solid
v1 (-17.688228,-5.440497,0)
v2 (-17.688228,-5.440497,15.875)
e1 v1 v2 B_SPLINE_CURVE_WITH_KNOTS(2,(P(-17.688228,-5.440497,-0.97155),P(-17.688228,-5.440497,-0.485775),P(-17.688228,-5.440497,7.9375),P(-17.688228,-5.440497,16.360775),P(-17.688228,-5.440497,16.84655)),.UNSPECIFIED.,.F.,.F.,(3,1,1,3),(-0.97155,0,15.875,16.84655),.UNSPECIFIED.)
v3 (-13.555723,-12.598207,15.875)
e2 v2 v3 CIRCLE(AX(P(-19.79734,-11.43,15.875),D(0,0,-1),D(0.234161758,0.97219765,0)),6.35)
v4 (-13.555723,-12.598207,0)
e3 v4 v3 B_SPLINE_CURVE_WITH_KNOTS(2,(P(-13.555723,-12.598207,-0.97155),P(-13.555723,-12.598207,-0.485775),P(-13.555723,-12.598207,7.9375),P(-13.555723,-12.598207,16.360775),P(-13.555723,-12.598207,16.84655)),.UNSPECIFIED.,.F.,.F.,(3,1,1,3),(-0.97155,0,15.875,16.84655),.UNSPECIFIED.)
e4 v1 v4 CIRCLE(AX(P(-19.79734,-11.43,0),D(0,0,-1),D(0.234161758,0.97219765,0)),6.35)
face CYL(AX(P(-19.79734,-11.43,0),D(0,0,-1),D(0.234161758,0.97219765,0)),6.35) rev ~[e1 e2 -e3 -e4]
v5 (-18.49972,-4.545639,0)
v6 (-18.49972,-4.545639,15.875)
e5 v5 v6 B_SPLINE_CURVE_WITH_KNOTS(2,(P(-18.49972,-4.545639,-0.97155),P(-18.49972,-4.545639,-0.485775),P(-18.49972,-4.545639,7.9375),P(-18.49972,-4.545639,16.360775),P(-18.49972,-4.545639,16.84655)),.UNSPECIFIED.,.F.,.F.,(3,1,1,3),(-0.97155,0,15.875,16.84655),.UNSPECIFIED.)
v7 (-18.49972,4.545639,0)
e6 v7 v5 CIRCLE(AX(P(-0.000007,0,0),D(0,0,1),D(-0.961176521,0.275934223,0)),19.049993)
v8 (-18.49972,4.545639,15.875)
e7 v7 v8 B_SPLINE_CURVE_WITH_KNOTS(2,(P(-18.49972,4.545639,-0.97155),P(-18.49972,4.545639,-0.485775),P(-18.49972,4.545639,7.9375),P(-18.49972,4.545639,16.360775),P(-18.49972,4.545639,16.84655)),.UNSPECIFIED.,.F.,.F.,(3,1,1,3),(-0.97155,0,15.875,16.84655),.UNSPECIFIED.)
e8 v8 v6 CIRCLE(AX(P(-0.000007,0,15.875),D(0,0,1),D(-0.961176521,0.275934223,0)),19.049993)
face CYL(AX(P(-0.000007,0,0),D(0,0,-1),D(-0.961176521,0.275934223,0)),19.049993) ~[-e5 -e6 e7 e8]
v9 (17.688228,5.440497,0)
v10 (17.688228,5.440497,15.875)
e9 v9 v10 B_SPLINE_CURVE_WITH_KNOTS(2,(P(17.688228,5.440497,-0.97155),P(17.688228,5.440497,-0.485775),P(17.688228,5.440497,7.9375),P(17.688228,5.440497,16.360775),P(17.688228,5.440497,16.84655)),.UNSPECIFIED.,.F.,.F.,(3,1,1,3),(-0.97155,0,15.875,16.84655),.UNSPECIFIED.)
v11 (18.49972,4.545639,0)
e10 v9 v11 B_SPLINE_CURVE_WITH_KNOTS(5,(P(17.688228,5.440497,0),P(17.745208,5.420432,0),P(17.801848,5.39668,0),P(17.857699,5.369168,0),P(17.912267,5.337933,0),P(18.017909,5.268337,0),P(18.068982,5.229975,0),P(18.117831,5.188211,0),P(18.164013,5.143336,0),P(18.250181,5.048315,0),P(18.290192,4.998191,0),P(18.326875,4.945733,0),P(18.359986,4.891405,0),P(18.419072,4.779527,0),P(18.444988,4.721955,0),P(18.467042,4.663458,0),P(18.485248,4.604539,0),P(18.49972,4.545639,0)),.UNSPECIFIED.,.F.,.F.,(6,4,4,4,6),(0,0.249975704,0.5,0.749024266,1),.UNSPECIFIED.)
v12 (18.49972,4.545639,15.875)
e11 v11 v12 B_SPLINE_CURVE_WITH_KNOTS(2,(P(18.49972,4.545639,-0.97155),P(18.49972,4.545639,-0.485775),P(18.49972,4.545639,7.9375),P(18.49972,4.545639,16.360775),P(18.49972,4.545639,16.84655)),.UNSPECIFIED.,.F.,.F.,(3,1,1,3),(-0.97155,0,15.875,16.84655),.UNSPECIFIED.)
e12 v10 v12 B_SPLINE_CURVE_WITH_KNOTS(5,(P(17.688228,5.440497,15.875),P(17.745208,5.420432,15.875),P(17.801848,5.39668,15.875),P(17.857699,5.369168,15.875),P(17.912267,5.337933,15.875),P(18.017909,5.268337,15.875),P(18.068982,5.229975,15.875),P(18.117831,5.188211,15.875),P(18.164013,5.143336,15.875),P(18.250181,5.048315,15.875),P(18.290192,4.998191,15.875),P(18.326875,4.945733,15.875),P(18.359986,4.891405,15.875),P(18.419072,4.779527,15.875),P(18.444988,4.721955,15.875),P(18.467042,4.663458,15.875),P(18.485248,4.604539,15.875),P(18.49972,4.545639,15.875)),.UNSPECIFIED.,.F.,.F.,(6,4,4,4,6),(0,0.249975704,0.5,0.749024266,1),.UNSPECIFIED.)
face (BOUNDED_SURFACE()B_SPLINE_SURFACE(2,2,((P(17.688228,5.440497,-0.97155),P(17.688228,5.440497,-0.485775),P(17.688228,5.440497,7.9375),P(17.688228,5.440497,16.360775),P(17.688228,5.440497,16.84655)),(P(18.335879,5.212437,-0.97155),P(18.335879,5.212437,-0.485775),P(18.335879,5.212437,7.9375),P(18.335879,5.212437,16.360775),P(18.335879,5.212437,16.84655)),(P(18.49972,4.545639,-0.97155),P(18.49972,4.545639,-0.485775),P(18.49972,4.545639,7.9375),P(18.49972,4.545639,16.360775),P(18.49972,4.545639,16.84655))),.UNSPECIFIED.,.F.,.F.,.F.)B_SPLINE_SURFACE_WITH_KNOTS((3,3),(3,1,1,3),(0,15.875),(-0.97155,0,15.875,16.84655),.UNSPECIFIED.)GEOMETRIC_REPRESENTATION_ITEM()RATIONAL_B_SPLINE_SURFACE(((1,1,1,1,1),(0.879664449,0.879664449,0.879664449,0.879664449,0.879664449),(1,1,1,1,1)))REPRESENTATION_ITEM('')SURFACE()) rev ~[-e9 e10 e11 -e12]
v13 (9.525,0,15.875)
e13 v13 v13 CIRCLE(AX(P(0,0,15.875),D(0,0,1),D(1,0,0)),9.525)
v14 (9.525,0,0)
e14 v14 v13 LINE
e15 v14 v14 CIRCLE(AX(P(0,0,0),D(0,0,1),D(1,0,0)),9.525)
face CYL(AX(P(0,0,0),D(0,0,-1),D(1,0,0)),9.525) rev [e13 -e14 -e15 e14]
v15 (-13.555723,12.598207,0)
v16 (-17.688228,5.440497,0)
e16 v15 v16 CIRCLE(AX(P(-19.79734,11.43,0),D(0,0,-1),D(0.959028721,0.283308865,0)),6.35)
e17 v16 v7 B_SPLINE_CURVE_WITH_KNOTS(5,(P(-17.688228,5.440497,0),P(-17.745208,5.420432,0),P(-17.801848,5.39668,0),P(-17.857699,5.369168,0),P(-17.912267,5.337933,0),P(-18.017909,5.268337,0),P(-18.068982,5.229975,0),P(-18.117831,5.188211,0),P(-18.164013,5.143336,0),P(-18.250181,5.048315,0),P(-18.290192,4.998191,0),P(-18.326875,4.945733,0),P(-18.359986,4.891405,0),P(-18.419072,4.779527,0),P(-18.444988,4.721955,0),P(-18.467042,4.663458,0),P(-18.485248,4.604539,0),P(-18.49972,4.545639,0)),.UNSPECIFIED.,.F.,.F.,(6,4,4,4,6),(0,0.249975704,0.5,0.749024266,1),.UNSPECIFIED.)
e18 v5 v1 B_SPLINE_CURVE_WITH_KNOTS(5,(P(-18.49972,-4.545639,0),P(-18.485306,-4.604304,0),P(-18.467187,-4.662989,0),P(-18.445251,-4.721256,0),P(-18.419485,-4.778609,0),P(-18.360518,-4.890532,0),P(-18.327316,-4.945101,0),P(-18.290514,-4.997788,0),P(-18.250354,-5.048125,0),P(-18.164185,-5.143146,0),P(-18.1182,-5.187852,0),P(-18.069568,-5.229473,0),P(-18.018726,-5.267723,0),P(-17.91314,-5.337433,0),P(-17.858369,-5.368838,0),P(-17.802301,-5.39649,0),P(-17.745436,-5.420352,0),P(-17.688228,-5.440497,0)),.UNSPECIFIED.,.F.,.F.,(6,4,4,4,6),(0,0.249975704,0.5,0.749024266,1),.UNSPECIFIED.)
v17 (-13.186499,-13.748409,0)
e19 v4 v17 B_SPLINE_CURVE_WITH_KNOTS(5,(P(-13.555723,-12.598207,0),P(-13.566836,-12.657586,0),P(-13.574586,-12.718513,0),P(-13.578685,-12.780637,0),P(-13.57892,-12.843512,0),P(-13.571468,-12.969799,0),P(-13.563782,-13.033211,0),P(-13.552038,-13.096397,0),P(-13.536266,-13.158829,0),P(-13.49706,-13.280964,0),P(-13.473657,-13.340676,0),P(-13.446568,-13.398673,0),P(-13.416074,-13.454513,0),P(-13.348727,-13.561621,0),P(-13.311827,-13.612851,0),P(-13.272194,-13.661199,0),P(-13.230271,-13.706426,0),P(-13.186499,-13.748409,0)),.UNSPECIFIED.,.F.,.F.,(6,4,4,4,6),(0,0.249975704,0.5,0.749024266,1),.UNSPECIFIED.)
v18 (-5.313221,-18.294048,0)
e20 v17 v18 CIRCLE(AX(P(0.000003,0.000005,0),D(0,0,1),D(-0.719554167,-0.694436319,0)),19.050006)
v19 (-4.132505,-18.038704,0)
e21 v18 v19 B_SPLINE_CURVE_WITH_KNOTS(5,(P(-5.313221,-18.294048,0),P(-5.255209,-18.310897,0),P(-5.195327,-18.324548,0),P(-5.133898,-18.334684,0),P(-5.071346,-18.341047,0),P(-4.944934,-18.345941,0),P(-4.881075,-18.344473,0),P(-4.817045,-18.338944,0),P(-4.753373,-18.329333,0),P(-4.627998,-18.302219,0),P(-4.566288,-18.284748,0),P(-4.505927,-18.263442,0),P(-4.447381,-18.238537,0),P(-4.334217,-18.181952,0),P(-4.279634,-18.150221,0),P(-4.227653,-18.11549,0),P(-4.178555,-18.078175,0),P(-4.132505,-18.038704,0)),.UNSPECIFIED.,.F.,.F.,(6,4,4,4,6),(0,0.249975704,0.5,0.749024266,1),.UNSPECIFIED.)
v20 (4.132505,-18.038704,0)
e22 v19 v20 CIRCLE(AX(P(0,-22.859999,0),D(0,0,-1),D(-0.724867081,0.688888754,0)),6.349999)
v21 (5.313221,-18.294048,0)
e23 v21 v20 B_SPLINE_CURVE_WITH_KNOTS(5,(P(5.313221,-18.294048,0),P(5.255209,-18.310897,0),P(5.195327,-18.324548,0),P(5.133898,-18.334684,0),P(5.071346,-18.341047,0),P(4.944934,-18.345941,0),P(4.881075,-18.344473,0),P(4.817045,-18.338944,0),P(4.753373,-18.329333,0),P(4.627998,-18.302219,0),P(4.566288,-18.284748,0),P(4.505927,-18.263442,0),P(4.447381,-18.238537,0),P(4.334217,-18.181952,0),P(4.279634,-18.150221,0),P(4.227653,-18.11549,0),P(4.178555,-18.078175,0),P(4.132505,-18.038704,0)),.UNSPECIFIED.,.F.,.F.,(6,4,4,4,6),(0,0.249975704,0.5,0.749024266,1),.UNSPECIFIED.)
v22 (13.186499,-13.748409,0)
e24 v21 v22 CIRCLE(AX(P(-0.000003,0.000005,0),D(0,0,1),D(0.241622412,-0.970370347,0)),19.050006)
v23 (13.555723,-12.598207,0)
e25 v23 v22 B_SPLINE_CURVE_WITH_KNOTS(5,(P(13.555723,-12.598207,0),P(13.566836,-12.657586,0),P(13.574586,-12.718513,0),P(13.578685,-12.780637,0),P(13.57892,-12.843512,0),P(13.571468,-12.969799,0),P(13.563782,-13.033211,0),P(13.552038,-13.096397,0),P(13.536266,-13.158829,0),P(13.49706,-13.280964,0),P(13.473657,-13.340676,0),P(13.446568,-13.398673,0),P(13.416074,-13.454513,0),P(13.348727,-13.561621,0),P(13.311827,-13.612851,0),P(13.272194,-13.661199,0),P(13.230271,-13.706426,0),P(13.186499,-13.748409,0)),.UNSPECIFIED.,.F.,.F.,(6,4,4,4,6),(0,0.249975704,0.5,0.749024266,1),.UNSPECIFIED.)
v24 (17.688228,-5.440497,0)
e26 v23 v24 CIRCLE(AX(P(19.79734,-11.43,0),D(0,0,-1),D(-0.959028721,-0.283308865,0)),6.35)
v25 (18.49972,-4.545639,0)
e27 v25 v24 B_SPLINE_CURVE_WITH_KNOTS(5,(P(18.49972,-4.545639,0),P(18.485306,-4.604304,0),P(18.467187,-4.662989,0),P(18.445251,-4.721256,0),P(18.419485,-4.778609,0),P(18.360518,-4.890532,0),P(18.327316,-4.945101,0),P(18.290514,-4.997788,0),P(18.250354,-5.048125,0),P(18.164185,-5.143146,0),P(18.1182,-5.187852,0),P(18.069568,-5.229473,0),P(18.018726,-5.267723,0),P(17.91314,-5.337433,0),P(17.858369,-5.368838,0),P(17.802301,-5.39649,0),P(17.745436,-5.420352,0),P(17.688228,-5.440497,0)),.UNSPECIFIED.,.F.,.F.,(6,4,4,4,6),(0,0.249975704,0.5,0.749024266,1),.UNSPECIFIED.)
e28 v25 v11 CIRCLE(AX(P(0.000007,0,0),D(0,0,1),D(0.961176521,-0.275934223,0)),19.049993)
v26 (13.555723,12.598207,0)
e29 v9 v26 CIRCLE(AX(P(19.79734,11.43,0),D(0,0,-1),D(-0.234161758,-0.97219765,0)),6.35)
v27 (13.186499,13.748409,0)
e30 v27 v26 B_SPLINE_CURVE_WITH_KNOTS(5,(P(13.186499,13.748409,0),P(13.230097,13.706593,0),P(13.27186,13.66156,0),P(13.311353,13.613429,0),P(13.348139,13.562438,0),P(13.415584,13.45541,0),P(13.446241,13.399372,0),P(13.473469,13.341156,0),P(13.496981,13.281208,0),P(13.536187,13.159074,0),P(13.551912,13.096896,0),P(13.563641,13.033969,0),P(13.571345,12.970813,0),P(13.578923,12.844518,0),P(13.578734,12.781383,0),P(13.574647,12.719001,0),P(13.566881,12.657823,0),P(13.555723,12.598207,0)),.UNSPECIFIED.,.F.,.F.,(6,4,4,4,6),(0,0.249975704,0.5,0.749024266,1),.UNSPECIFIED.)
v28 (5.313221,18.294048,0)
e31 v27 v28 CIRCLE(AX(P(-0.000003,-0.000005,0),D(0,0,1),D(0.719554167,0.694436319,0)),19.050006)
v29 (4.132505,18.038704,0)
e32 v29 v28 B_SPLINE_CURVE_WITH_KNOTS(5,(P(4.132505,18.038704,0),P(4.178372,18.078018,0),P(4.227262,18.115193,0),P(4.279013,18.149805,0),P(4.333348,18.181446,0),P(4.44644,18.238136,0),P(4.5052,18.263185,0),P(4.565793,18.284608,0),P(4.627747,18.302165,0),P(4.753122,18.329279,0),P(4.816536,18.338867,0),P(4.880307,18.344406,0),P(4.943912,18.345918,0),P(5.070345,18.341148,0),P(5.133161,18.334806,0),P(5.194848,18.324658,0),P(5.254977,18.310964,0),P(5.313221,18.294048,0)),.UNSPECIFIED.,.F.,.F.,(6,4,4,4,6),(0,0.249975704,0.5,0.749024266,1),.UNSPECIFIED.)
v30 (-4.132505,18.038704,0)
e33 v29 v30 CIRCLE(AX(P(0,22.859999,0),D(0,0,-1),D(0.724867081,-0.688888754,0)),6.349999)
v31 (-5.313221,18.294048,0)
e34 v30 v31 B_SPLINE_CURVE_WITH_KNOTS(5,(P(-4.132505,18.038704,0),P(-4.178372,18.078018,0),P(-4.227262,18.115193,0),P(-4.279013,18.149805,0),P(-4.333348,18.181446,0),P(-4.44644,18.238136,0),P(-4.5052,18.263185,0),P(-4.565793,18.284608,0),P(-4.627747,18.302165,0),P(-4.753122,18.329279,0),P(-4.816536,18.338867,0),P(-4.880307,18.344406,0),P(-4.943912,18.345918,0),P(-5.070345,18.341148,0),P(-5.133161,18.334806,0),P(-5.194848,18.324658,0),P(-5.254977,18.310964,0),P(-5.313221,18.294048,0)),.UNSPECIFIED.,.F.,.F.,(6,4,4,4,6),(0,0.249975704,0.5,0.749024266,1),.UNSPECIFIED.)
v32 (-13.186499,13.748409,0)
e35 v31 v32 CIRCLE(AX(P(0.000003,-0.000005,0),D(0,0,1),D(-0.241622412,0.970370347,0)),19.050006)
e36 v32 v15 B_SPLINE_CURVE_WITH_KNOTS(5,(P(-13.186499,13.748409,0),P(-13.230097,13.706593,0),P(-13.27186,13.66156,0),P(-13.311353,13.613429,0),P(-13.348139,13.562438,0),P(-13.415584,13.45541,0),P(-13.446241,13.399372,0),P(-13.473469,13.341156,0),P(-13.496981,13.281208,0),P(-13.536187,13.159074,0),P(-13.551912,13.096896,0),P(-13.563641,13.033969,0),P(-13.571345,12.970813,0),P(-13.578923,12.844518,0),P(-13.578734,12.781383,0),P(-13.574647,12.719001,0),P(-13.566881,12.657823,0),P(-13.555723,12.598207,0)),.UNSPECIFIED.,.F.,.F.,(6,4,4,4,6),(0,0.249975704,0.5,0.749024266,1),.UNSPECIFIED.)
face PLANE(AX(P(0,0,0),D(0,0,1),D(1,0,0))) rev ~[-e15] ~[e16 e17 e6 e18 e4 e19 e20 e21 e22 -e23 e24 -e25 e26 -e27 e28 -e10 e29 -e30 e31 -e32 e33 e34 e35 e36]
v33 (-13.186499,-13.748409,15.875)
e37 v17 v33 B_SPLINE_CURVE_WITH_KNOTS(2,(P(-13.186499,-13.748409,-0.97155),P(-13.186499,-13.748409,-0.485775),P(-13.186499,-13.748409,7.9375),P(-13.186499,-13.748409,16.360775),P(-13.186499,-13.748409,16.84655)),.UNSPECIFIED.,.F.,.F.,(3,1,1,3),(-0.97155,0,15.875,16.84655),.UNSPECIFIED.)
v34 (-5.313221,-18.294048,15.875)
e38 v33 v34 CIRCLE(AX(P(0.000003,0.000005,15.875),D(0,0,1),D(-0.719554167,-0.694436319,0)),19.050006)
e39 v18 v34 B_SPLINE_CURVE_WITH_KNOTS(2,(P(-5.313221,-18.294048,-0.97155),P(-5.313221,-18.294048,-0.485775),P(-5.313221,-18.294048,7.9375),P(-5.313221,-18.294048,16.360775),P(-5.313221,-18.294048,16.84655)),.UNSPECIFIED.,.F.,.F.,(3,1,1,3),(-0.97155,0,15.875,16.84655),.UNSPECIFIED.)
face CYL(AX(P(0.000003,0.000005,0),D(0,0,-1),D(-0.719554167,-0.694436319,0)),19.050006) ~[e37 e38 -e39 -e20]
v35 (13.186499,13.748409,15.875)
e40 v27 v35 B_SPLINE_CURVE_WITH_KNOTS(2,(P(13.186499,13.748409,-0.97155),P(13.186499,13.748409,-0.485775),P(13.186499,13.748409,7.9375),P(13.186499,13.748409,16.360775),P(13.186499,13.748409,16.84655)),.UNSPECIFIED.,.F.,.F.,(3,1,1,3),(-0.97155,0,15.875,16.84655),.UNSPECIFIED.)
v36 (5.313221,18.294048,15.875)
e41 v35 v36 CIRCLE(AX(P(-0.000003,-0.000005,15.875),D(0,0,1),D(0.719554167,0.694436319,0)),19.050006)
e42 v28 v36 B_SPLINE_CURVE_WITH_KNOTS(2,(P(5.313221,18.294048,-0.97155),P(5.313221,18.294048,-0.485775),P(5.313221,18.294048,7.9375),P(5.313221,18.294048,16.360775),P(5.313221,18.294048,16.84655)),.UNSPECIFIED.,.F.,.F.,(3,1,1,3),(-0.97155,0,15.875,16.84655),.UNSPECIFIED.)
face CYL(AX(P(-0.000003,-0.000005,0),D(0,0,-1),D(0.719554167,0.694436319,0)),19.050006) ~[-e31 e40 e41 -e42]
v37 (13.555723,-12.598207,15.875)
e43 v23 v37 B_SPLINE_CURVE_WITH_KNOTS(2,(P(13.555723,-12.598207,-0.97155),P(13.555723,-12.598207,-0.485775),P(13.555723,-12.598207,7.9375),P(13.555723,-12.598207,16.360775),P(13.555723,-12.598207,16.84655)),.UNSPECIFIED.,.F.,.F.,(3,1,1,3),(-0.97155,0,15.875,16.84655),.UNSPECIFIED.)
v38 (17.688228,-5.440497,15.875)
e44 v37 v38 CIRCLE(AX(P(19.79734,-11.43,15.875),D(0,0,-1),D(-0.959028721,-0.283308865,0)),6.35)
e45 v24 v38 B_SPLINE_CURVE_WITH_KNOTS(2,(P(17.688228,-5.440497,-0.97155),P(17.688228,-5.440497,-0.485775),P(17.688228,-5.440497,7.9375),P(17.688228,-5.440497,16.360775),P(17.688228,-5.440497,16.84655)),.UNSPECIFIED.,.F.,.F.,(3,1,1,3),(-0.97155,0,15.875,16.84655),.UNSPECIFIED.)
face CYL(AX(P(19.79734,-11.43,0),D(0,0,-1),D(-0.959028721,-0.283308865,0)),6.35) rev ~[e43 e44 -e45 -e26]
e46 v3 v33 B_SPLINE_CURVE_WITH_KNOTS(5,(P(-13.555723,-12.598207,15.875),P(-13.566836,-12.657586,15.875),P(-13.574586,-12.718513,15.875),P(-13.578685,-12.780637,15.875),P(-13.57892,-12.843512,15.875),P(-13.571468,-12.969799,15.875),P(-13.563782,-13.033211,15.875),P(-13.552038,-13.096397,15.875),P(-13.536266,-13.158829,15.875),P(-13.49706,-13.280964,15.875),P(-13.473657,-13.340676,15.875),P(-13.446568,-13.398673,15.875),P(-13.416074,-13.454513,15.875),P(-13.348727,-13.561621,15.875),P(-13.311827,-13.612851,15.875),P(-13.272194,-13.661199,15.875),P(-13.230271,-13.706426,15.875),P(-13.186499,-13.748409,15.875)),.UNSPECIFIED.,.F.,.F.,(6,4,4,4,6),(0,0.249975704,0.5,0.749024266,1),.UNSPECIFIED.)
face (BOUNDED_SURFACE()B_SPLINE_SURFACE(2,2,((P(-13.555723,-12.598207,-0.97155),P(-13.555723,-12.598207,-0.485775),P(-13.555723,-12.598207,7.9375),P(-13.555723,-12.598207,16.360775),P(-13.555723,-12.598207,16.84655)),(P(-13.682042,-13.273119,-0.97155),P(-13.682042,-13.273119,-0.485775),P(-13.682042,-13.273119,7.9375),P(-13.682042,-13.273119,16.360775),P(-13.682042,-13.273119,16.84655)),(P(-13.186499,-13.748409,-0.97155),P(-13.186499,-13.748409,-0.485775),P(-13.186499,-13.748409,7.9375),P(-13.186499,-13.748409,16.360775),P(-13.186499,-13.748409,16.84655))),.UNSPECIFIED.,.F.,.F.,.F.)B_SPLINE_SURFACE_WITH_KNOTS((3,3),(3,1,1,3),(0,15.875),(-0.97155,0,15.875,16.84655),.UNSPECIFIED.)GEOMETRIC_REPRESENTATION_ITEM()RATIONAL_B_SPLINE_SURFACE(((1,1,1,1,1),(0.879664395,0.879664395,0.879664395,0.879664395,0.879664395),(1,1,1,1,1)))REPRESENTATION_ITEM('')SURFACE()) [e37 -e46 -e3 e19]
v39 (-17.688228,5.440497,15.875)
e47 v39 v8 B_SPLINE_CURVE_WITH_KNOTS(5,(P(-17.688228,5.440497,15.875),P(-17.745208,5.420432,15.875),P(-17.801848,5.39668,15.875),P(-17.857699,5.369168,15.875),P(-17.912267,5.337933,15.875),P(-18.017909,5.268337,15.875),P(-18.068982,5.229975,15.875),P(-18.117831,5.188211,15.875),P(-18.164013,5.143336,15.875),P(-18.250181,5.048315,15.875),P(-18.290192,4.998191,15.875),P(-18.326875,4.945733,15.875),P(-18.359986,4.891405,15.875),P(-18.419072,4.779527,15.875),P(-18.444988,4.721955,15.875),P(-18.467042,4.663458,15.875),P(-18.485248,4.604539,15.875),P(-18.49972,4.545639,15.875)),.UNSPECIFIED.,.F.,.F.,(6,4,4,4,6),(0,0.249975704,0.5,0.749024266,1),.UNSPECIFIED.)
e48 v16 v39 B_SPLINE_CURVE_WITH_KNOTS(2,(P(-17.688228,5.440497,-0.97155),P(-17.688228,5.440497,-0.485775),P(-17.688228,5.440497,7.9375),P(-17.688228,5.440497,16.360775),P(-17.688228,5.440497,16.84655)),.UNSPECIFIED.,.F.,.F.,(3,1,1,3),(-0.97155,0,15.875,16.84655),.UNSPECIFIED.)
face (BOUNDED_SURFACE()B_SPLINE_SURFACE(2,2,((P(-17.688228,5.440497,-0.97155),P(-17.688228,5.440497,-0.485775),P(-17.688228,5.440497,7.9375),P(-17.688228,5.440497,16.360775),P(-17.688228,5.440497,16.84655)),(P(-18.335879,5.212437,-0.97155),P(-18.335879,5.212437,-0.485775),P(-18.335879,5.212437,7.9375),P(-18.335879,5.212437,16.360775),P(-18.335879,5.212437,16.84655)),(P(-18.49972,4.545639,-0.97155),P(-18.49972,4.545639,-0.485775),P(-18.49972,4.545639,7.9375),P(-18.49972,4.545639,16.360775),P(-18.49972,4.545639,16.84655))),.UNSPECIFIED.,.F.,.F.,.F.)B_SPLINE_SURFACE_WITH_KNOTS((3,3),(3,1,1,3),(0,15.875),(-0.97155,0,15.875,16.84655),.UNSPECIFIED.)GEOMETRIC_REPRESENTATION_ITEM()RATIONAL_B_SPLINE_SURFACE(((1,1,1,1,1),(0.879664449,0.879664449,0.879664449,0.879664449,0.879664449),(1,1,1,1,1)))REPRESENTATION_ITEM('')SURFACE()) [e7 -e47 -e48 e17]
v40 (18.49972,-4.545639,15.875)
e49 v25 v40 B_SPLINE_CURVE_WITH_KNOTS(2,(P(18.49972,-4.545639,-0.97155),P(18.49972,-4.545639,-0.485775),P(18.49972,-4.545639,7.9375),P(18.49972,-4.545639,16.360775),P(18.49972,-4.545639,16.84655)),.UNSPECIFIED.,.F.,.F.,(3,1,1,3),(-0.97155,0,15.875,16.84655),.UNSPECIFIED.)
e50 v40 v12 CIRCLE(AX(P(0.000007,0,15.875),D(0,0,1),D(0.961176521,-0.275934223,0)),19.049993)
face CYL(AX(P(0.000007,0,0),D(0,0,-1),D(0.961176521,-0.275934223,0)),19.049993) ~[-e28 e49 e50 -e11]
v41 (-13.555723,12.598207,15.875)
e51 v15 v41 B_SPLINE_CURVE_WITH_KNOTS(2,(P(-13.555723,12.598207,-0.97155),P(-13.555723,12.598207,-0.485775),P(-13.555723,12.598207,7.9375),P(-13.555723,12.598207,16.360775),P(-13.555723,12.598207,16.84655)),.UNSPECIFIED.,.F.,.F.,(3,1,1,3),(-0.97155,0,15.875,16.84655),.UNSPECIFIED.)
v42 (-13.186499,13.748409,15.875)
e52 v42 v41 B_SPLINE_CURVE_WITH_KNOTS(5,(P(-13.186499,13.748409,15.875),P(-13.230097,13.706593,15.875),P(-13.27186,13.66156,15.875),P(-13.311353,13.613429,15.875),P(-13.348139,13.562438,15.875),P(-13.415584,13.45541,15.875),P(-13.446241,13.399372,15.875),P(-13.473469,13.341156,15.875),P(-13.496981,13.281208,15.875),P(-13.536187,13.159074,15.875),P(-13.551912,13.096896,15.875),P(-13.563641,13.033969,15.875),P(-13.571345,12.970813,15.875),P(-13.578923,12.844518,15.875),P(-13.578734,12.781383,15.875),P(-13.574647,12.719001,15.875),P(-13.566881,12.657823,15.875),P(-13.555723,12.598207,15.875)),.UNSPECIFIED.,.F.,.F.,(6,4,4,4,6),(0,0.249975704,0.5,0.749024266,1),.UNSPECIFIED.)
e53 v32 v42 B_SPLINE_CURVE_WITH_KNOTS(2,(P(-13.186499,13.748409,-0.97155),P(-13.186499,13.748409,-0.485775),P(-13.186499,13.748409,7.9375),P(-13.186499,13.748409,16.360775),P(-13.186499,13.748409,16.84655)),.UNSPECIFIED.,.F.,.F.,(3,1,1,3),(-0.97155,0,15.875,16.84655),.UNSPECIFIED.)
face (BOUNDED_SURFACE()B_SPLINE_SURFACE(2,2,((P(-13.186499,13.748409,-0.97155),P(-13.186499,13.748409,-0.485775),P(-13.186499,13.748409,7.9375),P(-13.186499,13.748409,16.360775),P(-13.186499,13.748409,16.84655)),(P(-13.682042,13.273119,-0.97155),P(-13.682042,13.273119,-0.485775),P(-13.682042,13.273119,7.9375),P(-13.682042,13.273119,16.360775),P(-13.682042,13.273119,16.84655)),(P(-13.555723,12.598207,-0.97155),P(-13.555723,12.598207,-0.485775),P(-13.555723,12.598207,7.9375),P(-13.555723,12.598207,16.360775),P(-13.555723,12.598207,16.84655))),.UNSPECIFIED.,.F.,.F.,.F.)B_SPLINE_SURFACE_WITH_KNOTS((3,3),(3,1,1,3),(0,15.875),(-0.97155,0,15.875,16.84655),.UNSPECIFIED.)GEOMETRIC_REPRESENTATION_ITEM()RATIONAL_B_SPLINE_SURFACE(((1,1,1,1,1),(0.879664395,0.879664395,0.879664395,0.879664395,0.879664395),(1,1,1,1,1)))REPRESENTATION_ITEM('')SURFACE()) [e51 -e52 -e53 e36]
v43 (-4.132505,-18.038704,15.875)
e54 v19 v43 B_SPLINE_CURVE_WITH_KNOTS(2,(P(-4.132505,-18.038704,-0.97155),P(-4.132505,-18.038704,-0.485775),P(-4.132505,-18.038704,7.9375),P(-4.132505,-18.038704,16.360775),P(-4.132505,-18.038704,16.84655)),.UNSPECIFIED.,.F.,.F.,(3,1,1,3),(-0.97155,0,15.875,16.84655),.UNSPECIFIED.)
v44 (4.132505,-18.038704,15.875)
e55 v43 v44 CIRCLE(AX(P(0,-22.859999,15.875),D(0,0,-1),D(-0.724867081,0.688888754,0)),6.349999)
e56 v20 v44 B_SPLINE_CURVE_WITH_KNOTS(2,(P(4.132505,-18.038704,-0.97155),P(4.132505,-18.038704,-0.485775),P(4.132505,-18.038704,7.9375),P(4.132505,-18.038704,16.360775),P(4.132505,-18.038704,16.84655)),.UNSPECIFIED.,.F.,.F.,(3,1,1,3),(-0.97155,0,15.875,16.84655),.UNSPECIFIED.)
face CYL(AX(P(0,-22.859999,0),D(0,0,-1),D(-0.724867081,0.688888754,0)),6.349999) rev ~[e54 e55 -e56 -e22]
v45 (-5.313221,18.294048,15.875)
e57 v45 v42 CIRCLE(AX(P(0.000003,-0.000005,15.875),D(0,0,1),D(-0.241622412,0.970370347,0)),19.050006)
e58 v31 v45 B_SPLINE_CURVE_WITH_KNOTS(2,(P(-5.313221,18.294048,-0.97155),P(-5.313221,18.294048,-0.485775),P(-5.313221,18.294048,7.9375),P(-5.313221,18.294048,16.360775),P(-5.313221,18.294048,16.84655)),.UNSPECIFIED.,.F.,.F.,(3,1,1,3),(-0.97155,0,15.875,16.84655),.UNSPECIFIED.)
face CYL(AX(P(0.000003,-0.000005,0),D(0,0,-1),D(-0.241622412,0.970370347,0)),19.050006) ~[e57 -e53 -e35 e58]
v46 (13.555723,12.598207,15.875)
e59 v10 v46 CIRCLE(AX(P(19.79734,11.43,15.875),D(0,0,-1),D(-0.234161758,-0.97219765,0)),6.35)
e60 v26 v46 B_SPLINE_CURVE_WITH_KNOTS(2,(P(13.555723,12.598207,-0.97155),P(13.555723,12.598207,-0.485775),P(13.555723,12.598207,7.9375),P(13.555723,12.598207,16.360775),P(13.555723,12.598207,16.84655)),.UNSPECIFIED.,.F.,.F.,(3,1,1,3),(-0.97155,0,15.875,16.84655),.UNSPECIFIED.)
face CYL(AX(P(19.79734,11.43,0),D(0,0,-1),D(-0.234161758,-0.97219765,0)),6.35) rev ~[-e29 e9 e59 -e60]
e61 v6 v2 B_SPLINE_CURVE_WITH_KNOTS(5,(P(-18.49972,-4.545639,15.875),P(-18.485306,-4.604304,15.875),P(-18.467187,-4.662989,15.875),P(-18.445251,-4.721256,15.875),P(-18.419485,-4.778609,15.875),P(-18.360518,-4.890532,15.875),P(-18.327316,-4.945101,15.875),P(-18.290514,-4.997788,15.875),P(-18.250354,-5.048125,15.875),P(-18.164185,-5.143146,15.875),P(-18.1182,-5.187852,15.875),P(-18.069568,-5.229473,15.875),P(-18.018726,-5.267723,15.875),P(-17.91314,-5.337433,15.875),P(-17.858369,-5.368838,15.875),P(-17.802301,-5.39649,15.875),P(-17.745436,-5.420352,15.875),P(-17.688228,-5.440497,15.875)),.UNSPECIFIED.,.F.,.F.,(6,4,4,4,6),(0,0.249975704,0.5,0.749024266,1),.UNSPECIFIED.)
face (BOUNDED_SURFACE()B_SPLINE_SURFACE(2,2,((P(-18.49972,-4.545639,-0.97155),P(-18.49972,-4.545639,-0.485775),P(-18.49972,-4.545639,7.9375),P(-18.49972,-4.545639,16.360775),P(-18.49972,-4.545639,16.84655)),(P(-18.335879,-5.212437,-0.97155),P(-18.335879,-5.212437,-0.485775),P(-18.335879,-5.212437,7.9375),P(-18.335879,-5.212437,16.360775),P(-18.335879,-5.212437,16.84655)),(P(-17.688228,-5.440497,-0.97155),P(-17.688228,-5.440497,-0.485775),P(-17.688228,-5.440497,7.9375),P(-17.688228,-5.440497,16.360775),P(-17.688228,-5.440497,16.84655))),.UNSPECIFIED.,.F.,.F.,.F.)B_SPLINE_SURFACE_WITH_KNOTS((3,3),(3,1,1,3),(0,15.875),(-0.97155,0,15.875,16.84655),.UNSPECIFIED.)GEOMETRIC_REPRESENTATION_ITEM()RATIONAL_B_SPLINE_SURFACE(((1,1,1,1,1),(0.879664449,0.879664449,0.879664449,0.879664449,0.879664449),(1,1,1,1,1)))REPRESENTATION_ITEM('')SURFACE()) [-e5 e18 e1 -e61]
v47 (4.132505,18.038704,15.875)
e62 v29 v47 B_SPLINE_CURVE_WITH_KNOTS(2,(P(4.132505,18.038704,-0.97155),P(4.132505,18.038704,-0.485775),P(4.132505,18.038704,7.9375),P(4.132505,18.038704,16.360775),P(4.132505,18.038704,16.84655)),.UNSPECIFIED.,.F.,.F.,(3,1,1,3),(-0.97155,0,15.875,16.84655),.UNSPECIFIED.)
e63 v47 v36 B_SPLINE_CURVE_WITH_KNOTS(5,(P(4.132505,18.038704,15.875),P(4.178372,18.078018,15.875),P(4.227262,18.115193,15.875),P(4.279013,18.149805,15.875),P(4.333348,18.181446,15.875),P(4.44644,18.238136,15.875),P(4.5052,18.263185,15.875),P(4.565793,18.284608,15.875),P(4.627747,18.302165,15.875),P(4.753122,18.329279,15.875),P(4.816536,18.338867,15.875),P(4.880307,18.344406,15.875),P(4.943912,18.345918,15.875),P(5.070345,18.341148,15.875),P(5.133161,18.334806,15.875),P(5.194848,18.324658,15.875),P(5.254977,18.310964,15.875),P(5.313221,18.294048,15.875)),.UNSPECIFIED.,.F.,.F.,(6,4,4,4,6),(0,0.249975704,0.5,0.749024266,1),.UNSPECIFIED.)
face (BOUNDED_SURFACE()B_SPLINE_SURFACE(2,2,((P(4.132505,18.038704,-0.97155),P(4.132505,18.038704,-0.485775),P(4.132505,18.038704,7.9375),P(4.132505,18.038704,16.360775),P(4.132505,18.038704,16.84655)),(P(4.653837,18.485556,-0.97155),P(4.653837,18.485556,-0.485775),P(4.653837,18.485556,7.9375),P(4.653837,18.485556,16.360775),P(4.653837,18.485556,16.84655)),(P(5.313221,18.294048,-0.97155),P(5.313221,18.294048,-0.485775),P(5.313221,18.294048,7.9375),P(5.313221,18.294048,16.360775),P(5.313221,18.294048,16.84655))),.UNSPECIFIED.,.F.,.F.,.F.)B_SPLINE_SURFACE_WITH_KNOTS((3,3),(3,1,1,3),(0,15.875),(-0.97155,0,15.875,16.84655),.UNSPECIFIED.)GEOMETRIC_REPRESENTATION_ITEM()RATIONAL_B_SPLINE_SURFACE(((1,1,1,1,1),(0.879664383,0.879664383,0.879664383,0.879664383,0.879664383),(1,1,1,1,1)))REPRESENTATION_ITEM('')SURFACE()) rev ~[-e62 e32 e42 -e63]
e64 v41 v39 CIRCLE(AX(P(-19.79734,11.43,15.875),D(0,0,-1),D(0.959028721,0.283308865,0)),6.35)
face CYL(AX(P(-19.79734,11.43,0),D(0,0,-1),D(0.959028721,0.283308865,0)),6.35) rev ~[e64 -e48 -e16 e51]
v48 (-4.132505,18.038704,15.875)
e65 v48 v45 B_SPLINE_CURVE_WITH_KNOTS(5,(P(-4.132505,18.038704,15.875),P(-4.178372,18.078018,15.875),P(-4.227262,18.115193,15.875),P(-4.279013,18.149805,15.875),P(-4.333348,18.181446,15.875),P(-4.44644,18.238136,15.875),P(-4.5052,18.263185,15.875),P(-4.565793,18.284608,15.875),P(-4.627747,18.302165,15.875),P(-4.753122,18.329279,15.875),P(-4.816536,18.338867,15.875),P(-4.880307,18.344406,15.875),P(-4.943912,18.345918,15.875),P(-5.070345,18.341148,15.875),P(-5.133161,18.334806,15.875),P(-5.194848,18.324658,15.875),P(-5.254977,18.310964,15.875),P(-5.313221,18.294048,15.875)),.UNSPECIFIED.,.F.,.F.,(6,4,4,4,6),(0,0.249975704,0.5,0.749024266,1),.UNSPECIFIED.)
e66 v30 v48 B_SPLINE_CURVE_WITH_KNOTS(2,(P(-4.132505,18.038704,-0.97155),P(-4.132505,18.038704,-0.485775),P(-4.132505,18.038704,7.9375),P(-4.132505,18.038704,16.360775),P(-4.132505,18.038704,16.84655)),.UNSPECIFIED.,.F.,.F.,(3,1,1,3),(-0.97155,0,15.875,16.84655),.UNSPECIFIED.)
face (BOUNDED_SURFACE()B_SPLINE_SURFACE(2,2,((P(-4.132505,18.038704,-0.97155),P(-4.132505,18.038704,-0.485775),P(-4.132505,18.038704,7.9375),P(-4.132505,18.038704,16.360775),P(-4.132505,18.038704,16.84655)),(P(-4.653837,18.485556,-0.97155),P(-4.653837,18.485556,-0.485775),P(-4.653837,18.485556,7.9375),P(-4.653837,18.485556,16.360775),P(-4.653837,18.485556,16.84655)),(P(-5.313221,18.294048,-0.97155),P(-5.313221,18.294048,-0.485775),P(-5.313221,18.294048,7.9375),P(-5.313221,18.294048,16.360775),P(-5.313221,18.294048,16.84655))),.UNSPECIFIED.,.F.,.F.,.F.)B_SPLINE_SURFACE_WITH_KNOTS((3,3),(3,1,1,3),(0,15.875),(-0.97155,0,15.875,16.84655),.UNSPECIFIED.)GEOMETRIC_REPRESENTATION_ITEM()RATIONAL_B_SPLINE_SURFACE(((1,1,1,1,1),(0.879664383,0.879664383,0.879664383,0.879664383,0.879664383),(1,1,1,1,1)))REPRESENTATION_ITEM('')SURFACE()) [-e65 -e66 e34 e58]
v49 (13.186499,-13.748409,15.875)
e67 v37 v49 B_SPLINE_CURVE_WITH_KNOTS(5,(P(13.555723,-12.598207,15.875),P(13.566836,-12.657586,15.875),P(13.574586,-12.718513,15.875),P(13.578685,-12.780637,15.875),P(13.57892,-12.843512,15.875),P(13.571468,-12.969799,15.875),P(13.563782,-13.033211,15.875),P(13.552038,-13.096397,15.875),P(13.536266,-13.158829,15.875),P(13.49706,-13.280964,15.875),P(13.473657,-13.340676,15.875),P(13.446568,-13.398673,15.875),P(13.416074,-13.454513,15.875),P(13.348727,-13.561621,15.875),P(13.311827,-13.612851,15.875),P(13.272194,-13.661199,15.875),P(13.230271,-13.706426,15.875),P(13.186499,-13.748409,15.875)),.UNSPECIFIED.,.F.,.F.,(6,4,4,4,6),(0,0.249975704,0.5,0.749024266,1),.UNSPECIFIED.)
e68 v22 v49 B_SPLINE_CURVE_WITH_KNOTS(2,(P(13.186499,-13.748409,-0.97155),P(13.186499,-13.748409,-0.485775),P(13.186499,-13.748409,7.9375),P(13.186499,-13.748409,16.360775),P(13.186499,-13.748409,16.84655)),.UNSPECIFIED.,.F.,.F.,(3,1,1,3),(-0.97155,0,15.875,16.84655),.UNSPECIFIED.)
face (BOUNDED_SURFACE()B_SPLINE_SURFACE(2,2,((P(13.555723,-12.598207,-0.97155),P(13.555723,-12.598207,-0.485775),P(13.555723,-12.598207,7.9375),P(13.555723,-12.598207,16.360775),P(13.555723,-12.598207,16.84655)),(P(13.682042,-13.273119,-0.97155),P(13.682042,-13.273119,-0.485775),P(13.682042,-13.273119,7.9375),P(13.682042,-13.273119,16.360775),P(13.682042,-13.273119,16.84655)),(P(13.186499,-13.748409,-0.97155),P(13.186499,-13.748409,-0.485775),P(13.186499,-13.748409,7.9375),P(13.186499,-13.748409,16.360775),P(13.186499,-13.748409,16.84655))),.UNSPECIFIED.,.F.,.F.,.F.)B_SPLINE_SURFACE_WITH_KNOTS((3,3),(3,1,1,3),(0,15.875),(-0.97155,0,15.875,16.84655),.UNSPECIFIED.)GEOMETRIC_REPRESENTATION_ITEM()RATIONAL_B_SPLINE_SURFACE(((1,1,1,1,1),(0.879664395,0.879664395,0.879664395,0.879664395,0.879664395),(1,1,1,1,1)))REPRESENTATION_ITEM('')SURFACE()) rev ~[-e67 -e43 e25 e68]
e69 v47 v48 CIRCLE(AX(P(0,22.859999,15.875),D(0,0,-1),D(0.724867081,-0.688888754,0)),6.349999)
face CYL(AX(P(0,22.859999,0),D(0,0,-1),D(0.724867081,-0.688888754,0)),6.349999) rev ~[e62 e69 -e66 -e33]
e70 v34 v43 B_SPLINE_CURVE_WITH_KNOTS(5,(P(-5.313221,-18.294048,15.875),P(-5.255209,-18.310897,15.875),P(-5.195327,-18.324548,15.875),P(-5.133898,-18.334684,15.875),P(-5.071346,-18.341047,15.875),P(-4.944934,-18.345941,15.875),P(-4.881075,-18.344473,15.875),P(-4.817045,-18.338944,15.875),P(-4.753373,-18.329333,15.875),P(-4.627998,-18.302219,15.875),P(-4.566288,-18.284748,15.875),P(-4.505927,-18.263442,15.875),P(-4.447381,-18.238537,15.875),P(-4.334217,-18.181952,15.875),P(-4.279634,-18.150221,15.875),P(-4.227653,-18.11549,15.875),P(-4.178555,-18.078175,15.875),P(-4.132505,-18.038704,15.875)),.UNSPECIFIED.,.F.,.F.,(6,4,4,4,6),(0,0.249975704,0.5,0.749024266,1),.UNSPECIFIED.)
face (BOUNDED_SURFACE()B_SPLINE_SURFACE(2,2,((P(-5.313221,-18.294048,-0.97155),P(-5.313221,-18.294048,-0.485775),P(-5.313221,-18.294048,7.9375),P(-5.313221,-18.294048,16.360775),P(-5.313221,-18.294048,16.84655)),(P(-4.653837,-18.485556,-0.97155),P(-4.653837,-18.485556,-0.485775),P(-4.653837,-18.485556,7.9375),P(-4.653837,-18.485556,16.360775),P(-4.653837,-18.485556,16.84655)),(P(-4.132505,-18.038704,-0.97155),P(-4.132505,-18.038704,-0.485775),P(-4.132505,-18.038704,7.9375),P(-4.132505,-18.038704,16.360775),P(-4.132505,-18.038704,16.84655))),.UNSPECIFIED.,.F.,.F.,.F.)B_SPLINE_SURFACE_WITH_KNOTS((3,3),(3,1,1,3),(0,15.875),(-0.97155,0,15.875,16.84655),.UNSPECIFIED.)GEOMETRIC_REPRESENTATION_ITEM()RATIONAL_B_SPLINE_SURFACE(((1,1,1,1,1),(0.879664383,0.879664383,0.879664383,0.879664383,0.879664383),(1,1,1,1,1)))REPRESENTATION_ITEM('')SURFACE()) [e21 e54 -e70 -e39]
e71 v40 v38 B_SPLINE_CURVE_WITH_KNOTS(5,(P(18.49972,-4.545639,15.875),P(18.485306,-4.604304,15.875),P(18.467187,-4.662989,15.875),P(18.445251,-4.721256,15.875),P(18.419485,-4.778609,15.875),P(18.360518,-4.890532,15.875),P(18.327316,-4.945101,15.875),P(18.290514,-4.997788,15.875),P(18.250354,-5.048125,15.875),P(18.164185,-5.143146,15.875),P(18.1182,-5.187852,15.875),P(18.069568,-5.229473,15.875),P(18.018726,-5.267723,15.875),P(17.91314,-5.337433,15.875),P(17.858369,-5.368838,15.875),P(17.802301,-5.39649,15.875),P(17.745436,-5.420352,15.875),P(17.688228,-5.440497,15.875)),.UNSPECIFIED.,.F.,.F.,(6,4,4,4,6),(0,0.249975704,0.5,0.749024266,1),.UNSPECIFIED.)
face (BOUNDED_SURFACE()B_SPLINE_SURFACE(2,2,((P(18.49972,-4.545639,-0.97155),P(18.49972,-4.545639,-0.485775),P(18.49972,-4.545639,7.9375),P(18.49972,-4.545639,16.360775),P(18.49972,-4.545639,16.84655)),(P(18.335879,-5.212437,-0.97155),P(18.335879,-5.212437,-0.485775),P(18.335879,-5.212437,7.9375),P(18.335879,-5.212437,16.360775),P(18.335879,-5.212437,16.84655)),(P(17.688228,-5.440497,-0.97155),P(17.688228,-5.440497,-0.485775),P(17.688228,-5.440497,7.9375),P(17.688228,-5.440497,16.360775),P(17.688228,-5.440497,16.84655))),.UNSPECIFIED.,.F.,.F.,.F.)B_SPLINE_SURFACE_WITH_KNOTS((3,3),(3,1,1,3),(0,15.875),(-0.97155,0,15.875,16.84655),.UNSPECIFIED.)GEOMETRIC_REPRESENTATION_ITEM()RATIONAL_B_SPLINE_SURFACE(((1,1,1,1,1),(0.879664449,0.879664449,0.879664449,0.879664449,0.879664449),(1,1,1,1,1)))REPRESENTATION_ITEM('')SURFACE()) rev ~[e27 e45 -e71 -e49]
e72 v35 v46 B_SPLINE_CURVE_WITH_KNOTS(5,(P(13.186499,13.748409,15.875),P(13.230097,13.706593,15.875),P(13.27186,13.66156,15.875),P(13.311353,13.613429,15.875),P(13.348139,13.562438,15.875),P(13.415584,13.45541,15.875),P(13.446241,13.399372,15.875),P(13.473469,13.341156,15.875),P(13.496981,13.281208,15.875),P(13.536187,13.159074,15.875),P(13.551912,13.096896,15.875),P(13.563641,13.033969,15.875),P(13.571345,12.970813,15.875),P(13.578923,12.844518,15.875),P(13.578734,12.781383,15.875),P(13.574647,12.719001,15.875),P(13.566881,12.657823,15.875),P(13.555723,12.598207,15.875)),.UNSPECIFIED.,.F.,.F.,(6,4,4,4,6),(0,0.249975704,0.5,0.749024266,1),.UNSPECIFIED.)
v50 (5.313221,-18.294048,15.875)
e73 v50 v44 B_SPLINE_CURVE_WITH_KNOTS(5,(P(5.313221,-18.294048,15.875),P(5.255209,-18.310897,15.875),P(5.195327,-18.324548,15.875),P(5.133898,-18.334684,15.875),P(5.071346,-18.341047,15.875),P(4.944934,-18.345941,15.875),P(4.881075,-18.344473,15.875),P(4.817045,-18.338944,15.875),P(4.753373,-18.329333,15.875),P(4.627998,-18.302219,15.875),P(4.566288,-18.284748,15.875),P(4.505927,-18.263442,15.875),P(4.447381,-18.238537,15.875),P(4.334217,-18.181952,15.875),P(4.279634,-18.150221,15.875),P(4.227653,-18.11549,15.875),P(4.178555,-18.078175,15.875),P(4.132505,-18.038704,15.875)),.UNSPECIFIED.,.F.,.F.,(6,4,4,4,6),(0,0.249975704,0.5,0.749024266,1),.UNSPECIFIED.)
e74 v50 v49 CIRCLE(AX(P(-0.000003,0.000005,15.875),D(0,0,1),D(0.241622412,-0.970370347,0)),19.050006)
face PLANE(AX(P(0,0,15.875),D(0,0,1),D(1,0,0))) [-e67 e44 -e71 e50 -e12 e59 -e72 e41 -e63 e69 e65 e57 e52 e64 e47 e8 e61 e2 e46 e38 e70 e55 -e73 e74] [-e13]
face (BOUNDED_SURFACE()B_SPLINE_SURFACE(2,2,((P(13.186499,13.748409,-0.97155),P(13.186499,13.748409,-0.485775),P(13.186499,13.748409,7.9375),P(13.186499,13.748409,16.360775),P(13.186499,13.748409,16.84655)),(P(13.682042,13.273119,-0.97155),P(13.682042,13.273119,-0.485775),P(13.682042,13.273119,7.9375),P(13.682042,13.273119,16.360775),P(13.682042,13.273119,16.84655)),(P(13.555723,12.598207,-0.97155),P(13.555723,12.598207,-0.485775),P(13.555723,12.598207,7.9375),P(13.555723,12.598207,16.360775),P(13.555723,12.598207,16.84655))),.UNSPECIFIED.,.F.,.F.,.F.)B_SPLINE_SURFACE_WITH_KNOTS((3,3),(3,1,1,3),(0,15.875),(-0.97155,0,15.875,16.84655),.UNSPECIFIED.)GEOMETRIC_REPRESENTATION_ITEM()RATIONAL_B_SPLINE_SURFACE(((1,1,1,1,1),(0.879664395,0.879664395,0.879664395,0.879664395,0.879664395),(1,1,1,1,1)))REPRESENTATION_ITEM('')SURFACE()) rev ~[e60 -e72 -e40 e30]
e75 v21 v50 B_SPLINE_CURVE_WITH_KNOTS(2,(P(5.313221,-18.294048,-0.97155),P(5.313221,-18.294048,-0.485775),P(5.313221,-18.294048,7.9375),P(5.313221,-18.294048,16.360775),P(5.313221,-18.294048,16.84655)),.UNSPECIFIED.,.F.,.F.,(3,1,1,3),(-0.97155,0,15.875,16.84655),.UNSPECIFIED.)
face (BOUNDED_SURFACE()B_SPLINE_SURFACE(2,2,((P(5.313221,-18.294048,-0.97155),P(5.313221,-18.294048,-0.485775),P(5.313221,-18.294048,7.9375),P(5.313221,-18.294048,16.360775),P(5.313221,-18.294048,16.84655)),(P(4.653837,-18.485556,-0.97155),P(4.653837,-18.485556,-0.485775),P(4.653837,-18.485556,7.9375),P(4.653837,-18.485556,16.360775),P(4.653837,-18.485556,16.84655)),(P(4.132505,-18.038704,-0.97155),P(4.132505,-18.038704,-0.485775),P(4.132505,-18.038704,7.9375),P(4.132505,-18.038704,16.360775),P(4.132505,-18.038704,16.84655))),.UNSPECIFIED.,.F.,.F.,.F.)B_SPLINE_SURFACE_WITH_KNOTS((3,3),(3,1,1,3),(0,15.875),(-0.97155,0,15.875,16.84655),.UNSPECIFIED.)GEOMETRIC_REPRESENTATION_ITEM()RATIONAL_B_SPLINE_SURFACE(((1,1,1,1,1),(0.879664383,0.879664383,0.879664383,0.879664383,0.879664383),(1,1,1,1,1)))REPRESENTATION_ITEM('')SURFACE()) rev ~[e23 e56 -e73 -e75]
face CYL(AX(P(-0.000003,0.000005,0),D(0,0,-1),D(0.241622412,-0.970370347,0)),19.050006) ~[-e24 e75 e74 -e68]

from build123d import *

# Parameters (mm, degrees)
F0_R     = 9.525
F1_DEPTH = 15.875
F2_R     = 1.27


with BuildPart() as f1:
    # F0 (on Top) → F1 (new body)
    with BuildSketch(Plane.XY):
        with BuildLine():
            ThreePointArc((4.602905, 18.485556), (0, 16.51), (-4.602905, 18.485556))
            ThreePointArc((-4.602905, 18.485556), (-9.525, 16.497784), (-13.707508, 13.229011))
            ThreePointArc((-13.707508, 13.229011), (-14.298079, 8.255), (-18.310413, 5.256545))
            ThreePointArc((-18.310413, 5.256545), (-19.05, 0), (-18.310413, -5.256545))
            ThreePointArc((-18.310413, -5.256545), (-14.298079, -8.255), (-13.707508, -13.229011))
            ThreePointArc((-13.707508, -13.229011), (-9.525, -16.497784), (-4.602905, -18.485556))
            ThreePointArc((-4.602905, -18.485556), (0, -16.51), (4.602905, -18.485556))
            ThreePointArc((4.602905, -18.485556), (9.525, -16.497784), (13.707508, -13.229011))
            ThreePointArc((13.707508, -13.229011), (14.298079, -8.255), (18.310413, -5.256545))
            ThreePointArc((18.310413, -5.256545), (19.05, 0), (18.310413, 5.256545))
            ThreePointArc((18.310413, 5.256545), (14.298079, 8.255), (13.707508, 13.229011))
            ThreePointArc((13.707508, 13.229011), (9.525, 16.497784), (4.602905, 18.485556))
        make_face()
        Circle(F0_R, mode=Mode.SUBTRACT)
    extrude(amount=F1_DEPTH)

    # F2
    f2_edges = [f1.edges().sort_by_distance(p)[0] for p in [
        (13.707508, -13.229011, 7.9375),
        (4.602905, -18.485556, 7.9375),
        (18.310413, -5.256545, 7.9375),
        (18.310413, 5.256545, 7.9375),
        (13.707508, 13.229011, 7.9375),
        (4.602905, 18.485556, 7.9375),
        (-4.602905, 18.485556, 7.9375),
        (-13.707508, 13.229011, 7.9375),
        (-18.310413, 5.256545, 7.9375),
        (-18.310413, -5.256545, 7.9375),
        (-13.707508, -13.229011, 7.9375),
        (-4.602905, -18.485556, 7.9375),
    ]]
    fillet(f2_edges, radius=F2_R)


solid = f1.part
